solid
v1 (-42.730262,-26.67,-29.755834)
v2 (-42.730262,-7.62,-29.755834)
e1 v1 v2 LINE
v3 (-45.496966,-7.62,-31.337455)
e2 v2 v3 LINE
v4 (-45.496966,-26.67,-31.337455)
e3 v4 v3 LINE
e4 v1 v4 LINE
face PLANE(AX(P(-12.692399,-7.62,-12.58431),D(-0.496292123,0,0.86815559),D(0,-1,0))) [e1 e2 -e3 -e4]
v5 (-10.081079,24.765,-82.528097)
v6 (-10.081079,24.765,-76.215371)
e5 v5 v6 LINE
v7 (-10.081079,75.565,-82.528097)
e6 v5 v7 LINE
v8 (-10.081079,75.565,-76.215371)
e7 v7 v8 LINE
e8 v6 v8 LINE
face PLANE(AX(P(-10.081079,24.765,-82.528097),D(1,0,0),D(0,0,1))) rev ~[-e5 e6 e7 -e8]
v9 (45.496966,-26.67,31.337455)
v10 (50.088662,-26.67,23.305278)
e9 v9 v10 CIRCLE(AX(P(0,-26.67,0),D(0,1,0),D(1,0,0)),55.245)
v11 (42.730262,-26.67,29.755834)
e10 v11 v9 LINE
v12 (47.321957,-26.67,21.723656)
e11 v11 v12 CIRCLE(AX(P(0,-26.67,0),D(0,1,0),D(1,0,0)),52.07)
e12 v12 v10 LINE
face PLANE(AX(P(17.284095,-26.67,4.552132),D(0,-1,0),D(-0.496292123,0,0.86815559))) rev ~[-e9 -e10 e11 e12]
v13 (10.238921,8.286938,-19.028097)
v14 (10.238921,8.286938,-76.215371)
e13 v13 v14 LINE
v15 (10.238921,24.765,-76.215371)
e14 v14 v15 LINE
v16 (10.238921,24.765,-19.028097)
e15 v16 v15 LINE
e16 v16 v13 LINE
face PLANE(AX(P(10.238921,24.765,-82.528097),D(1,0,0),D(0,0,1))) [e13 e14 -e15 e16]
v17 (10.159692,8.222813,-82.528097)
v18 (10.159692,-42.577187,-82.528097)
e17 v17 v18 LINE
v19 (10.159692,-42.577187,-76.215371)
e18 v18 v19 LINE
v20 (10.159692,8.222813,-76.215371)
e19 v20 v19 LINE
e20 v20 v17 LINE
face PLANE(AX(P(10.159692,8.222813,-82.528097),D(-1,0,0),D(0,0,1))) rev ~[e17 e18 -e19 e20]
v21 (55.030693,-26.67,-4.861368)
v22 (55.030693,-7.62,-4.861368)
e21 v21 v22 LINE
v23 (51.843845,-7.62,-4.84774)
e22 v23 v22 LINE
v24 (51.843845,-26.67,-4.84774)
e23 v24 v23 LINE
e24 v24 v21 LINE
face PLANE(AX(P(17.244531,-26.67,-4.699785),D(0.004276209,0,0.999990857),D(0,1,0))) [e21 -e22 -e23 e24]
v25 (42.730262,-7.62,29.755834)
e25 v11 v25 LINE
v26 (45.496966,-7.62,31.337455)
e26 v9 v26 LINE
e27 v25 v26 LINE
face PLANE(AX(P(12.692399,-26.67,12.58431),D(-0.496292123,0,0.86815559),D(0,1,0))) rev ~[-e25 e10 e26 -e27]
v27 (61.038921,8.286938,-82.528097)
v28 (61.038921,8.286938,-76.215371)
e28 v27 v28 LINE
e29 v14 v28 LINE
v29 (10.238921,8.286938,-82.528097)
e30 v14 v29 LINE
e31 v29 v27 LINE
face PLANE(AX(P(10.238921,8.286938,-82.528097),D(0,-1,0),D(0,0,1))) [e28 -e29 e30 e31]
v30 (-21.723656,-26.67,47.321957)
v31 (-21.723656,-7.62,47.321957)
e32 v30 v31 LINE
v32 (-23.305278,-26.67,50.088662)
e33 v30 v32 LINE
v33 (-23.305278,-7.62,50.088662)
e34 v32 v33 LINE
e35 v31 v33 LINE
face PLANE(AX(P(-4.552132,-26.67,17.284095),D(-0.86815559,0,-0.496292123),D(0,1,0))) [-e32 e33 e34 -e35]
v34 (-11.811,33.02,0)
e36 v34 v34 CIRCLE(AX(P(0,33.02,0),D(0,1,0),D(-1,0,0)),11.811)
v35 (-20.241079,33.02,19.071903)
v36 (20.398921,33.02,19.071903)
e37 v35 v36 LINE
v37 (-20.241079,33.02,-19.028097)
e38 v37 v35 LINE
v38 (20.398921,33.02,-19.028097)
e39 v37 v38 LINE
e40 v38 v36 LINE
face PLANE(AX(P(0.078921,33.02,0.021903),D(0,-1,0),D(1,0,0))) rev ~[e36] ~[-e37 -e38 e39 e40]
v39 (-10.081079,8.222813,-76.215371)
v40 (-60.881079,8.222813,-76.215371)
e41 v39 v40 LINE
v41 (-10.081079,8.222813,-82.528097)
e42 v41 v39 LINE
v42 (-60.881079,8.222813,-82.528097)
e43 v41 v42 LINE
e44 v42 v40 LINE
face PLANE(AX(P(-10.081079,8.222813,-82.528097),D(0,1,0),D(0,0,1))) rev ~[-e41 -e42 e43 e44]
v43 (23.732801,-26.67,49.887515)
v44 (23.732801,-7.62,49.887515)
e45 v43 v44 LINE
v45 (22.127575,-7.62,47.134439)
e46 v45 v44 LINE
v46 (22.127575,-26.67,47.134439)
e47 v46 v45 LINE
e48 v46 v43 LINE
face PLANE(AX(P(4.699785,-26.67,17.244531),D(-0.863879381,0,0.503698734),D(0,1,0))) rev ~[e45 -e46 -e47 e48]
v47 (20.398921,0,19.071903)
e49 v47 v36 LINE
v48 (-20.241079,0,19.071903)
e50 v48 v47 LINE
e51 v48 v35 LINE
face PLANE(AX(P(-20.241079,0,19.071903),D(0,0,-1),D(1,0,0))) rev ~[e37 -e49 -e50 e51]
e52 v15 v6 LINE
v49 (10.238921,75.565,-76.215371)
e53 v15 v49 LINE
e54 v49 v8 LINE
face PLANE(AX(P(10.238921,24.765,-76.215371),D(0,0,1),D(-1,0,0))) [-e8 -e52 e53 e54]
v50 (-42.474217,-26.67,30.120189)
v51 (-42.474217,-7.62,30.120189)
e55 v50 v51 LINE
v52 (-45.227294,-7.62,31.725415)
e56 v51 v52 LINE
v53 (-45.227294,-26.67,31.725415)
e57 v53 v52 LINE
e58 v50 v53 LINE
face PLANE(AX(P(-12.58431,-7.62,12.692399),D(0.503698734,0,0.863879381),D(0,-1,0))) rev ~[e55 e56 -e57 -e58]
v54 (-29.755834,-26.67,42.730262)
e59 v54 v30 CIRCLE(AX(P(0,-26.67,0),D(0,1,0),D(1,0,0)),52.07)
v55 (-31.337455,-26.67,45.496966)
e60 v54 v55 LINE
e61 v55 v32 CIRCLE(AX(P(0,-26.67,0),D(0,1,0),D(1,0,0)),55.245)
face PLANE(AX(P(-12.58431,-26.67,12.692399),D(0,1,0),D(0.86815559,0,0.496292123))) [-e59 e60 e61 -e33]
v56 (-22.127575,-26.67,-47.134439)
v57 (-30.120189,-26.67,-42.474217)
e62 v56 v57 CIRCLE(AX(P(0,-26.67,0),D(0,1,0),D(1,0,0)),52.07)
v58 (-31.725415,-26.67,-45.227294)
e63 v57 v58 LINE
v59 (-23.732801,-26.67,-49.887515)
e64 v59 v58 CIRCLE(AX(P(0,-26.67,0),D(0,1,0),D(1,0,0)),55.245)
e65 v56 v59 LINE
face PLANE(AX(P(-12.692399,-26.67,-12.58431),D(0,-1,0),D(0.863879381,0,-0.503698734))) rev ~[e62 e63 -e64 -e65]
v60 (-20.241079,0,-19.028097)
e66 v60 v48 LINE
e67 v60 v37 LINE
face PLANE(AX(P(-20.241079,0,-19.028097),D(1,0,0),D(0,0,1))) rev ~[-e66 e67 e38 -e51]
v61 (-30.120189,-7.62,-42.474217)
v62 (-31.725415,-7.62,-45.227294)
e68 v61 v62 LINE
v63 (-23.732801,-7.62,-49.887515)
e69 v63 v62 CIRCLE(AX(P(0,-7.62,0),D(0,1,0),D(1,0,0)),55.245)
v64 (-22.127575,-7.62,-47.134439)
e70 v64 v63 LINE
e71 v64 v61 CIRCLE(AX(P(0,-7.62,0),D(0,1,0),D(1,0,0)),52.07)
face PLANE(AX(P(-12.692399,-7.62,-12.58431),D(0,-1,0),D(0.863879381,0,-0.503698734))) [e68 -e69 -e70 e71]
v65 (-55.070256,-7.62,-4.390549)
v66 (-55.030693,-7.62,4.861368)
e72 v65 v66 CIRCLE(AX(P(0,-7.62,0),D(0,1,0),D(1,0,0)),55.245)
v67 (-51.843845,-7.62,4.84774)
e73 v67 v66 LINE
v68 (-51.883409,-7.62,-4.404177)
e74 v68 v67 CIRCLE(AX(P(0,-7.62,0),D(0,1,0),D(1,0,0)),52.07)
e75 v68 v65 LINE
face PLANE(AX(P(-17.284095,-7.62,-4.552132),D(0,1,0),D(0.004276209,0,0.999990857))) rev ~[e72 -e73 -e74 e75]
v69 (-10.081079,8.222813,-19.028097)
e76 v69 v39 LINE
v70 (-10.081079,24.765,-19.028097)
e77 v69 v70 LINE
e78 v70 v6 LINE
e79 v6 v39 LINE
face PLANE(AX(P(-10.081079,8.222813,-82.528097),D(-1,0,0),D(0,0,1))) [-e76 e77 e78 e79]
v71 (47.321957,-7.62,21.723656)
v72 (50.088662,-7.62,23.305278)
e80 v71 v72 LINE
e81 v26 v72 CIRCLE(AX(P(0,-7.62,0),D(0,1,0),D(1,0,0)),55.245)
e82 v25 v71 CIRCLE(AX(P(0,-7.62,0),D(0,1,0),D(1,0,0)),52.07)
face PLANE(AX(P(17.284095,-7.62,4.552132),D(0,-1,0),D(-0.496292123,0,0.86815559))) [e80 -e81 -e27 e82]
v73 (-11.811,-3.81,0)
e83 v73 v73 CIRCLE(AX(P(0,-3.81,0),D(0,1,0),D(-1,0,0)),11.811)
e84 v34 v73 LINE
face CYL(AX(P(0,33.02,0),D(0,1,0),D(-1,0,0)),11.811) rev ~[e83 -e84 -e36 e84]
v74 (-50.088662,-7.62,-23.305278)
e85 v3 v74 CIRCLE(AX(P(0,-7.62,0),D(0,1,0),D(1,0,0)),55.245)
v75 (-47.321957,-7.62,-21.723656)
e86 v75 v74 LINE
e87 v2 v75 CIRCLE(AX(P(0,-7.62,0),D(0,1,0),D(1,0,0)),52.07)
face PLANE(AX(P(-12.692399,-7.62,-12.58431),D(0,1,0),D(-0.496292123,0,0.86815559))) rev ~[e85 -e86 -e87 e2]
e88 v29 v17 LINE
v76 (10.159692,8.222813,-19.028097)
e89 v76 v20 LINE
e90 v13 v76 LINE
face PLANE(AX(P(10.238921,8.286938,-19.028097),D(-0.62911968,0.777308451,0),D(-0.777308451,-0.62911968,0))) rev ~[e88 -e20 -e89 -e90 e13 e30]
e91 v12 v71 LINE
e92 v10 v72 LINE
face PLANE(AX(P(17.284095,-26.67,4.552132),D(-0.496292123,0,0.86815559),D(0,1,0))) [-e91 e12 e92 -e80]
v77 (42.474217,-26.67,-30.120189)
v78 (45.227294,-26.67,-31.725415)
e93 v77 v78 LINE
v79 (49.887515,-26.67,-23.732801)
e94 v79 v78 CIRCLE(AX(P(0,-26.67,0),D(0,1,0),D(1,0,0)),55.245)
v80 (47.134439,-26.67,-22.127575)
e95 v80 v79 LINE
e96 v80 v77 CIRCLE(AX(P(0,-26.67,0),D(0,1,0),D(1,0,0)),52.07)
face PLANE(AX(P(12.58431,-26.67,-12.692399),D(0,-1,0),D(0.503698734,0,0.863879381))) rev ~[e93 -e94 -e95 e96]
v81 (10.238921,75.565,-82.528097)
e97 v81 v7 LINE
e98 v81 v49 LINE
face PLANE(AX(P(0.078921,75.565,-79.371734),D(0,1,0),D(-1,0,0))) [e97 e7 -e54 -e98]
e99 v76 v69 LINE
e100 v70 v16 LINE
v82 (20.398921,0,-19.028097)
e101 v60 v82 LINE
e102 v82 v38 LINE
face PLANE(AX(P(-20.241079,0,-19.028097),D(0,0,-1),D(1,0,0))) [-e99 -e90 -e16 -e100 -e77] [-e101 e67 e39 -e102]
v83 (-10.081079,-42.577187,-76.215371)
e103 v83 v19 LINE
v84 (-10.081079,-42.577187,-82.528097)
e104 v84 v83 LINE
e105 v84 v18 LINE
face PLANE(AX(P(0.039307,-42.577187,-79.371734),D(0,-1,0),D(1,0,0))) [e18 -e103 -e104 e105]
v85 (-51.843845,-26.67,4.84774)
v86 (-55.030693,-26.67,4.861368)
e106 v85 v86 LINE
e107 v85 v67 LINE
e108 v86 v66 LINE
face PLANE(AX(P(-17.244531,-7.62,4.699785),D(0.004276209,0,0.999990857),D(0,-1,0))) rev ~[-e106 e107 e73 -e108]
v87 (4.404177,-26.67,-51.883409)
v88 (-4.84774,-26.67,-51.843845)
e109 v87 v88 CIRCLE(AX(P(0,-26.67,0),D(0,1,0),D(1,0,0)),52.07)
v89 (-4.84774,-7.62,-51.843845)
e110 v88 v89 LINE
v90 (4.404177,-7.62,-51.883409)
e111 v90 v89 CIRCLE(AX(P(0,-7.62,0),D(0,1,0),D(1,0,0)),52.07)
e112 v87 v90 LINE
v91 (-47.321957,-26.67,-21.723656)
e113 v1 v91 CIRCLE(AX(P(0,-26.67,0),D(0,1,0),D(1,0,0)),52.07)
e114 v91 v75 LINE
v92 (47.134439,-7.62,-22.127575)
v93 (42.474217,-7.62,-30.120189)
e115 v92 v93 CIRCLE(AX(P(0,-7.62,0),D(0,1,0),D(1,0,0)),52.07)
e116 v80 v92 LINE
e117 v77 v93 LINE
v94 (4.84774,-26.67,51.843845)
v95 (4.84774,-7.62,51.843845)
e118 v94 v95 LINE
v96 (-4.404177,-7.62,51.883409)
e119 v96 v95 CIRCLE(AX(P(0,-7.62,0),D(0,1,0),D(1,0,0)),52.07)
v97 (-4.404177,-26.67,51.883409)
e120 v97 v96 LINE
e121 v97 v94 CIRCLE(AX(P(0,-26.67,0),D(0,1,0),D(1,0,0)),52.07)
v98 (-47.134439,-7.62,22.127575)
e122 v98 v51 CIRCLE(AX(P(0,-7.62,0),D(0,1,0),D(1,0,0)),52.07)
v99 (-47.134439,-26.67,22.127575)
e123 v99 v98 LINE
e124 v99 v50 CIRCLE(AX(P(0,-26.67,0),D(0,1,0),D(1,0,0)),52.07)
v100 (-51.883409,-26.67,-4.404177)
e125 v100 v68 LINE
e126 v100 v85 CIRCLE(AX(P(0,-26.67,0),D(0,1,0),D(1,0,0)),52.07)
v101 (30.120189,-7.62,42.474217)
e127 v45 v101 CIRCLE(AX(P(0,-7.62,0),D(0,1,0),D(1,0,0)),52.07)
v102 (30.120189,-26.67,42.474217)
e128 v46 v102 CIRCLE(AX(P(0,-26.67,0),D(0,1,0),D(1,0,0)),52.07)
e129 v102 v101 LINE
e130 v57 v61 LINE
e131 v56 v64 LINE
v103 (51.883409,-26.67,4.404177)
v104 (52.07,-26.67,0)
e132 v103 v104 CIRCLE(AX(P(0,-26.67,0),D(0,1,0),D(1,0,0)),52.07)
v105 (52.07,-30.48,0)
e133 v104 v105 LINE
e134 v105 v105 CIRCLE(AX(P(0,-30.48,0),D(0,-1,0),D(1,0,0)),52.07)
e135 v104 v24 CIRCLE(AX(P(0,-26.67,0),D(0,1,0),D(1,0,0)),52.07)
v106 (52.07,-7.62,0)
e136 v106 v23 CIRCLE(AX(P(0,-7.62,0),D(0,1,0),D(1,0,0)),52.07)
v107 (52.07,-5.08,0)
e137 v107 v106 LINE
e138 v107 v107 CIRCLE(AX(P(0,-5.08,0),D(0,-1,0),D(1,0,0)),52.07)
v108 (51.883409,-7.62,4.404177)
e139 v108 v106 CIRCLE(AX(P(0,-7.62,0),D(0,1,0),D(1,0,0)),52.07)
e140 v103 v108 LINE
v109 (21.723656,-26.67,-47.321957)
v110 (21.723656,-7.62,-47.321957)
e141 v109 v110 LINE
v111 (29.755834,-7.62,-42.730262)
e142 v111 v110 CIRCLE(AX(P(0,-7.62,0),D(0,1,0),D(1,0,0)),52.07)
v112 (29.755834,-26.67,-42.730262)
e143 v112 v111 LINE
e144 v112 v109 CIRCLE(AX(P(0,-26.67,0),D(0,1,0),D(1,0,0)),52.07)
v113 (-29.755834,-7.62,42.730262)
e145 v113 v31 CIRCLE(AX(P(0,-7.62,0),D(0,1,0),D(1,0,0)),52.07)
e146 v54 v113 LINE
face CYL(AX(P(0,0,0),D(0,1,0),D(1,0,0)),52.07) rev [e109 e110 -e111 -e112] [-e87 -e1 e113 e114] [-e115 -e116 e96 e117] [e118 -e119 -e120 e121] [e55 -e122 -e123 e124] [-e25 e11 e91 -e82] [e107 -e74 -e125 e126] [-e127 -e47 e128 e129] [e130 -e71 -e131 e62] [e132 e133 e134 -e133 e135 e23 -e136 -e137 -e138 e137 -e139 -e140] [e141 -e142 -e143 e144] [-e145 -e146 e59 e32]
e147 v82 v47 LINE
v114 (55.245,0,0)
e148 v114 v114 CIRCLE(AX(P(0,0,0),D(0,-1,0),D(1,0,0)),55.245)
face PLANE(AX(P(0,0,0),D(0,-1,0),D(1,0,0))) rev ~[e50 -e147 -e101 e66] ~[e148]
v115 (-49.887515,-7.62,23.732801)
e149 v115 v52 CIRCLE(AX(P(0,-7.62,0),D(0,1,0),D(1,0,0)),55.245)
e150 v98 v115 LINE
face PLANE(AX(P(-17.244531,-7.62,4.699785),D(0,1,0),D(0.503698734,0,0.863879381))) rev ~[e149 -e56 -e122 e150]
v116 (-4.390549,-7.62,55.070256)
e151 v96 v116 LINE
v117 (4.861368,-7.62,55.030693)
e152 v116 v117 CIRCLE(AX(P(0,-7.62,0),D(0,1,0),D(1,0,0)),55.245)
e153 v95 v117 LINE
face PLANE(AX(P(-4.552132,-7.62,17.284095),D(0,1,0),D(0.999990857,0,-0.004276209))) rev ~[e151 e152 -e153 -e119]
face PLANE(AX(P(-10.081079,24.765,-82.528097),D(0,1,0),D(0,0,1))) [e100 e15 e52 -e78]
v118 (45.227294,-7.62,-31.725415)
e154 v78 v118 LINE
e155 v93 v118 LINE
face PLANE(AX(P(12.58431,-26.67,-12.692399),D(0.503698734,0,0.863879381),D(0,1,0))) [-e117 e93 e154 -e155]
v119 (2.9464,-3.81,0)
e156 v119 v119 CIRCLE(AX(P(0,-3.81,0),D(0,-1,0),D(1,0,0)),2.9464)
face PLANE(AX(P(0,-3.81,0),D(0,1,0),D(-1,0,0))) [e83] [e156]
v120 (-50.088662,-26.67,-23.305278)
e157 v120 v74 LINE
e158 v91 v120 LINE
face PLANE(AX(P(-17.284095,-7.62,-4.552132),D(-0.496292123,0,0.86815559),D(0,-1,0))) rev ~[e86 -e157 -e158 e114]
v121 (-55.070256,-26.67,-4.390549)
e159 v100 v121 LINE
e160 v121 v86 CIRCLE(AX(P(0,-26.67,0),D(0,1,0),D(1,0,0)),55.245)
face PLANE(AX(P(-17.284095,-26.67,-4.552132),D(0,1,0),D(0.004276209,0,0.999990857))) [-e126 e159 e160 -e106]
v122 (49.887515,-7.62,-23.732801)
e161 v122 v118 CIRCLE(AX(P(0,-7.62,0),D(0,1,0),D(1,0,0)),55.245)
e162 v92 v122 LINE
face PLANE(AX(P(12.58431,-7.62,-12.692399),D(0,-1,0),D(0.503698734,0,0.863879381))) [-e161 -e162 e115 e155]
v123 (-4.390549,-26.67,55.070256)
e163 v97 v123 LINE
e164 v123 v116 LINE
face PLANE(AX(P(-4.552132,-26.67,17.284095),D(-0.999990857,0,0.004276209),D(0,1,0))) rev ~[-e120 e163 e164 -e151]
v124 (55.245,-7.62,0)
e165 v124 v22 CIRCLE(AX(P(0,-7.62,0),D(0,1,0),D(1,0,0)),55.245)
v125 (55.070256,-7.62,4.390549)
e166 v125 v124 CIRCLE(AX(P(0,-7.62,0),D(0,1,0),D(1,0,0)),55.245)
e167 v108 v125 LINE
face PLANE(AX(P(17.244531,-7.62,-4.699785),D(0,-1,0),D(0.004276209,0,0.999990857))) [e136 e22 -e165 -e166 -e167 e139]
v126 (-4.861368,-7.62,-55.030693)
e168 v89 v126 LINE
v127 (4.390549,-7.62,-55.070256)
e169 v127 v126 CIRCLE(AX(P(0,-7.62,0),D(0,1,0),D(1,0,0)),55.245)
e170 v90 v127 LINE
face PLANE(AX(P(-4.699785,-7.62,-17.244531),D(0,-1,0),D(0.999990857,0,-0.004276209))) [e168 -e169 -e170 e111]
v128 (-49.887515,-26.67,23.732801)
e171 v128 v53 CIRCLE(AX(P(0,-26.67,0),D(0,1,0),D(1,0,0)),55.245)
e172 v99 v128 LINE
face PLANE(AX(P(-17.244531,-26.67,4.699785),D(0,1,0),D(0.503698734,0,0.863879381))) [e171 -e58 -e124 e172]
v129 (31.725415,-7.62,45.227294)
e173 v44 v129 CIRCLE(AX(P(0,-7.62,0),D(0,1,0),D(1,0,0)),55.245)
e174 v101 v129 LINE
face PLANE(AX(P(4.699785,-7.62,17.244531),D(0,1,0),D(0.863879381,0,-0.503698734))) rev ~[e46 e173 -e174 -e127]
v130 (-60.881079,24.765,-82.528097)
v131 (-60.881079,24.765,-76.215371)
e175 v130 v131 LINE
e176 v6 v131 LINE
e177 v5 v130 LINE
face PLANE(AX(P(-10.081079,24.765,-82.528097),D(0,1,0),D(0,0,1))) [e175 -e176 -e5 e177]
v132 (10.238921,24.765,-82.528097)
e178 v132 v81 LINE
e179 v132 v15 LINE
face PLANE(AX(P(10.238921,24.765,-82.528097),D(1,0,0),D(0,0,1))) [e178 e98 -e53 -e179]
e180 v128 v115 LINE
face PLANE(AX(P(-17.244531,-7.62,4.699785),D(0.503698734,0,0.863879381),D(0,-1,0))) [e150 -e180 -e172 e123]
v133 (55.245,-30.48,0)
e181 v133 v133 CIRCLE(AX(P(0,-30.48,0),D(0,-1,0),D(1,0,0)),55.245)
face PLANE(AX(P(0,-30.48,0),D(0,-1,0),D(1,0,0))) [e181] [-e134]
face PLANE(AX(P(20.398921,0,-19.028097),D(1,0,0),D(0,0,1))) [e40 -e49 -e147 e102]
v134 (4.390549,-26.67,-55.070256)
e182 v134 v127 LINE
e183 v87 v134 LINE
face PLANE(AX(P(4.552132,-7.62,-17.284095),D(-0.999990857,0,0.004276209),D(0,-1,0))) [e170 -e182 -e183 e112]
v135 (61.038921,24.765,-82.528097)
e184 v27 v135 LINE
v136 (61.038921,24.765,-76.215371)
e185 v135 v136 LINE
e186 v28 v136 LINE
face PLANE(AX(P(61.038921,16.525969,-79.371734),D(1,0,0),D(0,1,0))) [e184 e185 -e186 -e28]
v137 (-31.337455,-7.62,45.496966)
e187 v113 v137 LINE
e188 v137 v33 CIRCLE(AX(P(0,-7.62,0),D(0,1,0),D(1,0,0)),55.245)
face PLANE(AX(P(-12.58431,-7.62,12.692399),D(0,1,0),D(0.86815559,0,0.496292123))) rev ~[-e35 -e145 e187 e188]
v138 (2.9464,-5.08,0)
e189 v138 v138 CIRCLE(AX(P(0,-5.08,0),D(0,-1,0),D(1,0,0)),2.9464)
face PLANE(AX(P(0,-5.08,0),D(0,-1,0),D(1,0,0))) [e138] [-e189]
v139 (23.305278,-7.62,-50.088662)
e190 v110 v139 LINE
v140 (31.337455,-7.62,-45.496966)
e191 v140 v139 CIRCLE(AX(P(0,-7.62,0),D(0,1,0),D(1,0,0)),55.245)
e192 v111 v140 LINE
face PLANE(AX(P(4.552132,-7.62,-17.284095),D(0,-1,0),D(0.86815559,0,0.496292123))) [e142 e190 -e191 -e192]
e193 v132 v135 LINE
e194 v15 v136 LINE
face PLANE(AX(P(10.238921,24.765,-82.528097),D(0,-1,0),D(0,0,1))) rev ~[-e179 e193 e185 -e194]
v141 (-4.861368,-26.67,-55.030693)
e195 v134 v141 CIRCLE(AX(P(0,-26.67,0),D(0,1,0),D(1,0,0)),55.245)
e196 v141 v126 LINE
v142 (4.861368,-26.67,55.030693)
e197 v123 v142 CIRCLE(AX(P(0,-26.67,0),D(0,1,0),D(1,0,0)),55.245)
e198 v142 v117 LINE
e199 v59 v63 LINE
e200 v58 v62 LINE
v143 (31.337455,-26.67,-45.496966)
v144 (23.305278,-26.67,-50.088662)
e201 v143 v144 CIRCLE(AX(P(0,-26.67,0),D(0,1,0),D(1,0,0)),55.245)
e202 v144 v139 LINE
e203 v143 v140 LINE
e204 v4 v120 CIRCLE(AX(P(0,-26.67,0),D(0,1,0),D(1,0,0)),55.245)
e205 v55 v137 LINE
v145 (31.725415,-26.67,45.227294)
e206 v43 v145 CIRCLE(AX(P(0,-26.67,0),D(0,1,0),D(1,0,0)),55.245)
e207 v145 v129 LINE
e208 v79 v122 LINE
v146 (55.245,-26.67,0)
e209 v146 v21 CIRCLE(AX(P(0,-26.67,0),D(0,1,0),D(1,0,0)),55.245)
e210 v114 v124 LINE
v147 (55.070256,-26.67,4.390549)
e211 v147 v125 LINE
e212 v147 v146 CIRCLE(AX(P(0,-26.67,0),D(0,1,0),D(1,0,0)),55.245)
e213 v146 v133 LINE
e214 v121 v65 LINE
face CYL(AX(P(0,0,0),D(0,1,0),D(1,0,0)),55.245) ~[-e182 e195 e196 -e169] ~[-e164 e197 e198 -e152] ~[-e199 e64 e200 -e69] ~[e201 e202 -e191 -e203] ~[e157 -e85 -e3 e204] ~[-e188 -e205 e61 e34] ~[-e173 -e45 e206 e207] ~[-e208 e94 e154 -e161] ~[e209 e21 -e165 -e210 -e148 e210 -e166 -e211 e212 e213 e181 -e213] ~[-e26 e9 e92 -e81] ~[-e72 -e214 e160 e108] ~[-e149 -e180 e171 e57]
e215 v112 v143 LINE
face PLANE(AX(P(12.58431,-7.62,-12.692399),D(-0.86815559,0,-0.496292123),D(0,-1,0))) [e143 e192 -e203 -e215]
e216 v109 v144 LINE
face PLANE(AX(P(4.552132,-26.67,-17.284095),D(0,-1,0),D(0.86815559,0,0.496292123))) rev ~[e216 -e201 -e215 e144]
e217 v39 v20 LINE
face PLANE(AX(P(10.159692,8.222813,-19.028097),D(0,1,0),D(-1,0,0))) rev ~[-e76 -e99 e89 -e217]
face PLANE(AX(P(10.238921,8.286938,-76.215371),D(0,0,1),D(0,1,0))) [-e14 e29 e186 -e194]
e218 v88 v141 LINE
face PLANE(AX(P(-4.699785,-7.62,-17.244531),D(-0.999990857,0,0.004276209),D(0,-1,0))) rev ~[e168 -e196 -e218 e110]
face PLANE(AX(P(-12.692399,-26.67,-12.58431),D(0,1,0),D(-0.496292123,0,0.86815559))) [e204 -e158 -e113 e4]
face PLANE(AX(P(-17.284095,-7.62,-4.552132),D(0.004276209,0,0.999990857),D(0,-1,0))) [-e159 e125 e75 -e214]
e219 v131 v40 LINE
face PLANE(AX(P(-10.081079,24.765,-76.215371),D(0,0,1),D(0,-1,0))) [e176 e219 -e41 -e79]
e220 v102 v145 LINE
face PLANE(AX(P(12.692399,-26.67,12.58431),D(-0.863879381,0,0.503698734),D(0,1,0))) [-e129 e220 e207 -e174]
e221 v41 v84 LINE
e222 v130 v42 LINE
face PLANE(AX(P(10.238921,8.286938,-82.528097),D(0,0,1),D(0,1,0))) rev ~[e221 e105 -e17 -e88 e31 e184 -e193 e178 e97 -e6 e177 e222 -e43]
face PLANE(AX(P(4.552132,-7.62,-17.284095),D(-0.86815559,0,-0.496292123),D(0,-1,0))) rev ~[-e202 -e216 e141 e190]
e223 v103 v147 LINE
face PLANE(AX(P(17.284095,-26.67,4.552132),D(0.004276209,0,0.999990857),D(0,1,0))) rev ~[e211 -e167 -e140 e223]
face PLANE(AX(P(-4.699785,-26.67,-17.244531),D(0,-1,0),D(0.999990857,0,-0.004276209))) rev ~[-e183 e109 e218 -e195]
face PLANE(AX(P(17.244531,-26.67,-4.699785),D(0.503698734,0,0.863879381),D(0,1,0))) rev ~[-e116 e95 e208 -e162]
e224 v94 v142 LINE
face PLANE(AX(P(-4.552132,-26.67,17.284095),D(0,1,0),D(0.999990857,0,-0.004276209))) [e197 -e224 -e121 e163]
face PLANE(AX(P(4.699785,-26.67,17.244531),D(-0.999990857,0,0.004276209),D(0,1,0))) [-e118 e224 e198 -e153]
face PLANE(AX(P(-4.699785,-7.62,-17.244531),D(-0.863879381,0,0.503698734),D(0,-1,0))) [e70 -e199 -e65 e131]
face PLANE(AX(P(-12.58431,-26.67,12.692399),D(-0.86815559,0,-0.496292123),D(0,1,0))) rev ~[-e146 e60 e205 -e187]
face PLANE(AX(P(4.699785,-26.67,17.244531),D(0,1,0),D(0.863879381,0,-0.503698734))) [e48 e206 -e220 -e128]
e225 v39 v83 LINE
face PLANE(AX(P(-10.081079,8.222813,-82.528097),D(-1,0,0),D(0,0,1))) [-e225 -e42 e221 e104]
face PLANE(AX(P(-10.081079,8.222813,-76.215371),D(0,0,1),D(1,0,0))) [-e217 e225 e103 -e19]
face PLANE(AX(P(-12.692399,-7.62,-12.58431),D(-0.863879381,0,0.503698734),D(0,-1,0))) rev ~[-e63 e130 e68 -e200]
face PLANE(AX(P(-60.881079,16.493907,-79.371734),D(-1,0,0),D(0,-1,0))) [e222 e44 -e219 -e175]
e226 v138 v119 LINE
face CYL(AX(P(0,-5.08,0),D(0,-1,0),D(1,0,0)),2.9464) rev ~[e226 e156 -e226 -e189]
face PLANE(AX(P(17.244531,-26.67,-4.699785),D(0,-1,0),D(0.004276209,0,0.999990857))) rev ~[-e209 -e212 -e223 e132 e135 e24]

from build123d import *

# Parameters (mm, degrees)
F0_R      = 52.07
F1_DEPTH  = 5.08
F0_R_2    = 55.245
F2_DEPTH  = 30.48
F4_DEPTH  = 21.59
F5_W      = 9.2520020868
F5_H      = 19.05
F6_DEPTH  = 50.8
F7_W      = 9.2520020868
F7_H      = 19.05
F8_DEPTH  = 50.8
F9_W      = 9.2520020868
F9_H      = 19.05
F10_DEPTH = 50.8
F11_W     = 19.05
F11_H     = 9.2520020868
F12_DEPTH = 50.8
F13_W     = 19.05
F13_H     = 9.2520020868
F14_DEPTH = 50.8
F15_W     = 19.05
F15_H     = 9.2520020868
F16_DEPTH = 50.8
F17_W     = 9.2520020868
F17_H     = 19.05
F18_DEPTH = 50.8
F19_W     = 9.2520020868
F19_H     = 19.05
F20_DEPTH = 50.8
F21_W     = 9.2520020868
F21_H     = 19.05
F22_DEPTH = 50.8
F23_W     = 19.05
F23_H     = 9.2520020868
F24_DEPTH = 50.8
F25_W     = 19.05
F25_H     = 9.2520020868
F26_DEPTH = 50.8
F27_W     = 19.05
F27_H     = 9.2520020868
F28_DEPTH = 50.8
F29_W     = 40.64
F29_H     = 38.1
F30_DEPTH = 33.02
F31_DEPTH = 21.59
F33_DEPTH = 63.5
F34_W     = 20.2407714686
F34_H     = 6.3127256824
F35_DEPTH = 50.8
F36_W     = 16.5421865909
F36_H     = 6.3127256824
F37_DEPTH = 50.8
F38_W     = 20.32
F38_H     = 6.3127256824
F39_DEPTH = 50.8
F40_W     = 16.4780624607
F40_H     = 6.3127256824
F41_DEPTH = 50.8
F43_R     = 2.9464
F44_DEPTH = 1.6256
F42_R     = 11.811
F45_DEPTH = 36.83


with BuildPart() as f1:
    # F0 (on Front) → F1 (new body)
    with BuildSketch(Plane.XZ):
        Circle(F0_R)
    extrude(amount=F1_DEPTH)

    # F0 (on Front) → F2 (join)
    with BuildSketch(Plane.XZ):
        Circle(F0_R_2)
        Circle(F0_R, mode=Mode.SUBTRACT)
    extrude(amount=F2_DEPTH)

    # F3 (on face) → F4 (join)
    with BuildSketch(Plane.XZ.offset(5.08)):
        Polygon((4.5521322669, -17.2840948262), (12.5843095976, -12.6923990675), (17.2445313344, -4.6997852286), (17.2840948262, 4.5521322669), (12.6923990675, 12.5843095976), (4.6997852286, 17.2445313344), (-4.5521322669, 17.2840948262), (-12.5843095976, 12.6923990675), (-17.2445313344, 4.6997852286), (-17.2840948262, -4.5521322669), (-12.6923990675, -12.5843095976), (-4.6997852286, -17.2445313344), align=None)
    extrude(amount=F4_DEPTH)

    # F5 (on face) → F6 (cut)
    with BuildSketch(Plane(origin=(8.696092148, 0, 14.914420466), x_dir=(0.8638793813, 0, -0.5036987339), z_dir=(0.5036987339, 0, 0.8638793813))):
        with Locations((0, -17.145)):
            Rectangle(F5_W, F5_H)
    extrude(amount=F6_DEPTH, mode=Mode.SUBTRACT)

    # F7 (on face) → F8 (cut)
    with BuildSketch(Plane(origin=(0.0738264808, 0, 17.2643130803), x_dir=(0.999990857, 0, -0.0042762087), z_dir=(0.0042762087, 0, 0.999990857))):
        with Locations((0, -17.145)):
            Rectangle(F7_W, F7_H)
    extrude(amount=F8_DEPTH, mode=Mode.SUBTRACT)

    # F9 (on face) → F10 (cut)
    with BuildSketch(Plane(origin=(-8.5682209323, 0, 14.9882469469), x_dir=(0.86815559, 0, 0.4962921231), z_dir=(-0.4962921231, 0, 0.86815559))):
        with Locations((0, -17.145)):
            Rectangle(F9_W, F9_H)
    extrude(amount=F10_DEPTH, mode=Mode.SUBTRACT)

    # F11 (on face) → F12 (cut)
    with BuildSketch(Plane(origin=(-14.914420466, 0, 8.696092148), x_dir=(0, -1, 0), z_dir=(-0.8638793813, 0, 0.5036987339))):
        with Locations((17.145, 0)):
            Rectangle(F11_W, F11_H)
    extrude(amount=F12_DEPTH, mode=Mode.SUBTRACT)

    # F13 (on face) → F14 (cut)
    with BuildSketch(Plane(origin=(-17.2643130803, 0, 0.0738264808), x_dir=(0, -1, 0), z_dir=(-0.999990857, 0, 0.0042762087))):
        with Locations((17.145, 0)):
            Rectangle(F13_W, F13_H)
    extrude(amount=F14_DEPTH, mode=Mode.SUBTRACT)

    # F15 (on face) → F16 (cut)
    with BuildSketch(Plane(origin=(-14.9882469469, 0, -8.5682209323), x_dir=(0, -1, 0), z_dir=(-0.86815559, 0, -0.4962921231))):
        with Locations((17.145, 0)):
            Rectangle(F15_W, F15_H)
    extrude(amount=F16_DEPTH, mode=Mode.SUBTRACT)

    # F17 (on face) → F18 (cut)
    with BuildSketch(Plane(origin=(-8.696092148, 0, -14.914420466), x_dir=(0.8638793813, 0, -0.5036987339), z_dir=(-0.5036987339, 0, -0.8638793813))):
        with Locations((0, 17.145)):
            Rectangle(F17_W, F17_H)
    extrude(amount=F18_DEPTH, mode=Mode.SUBTRACT)

    # F19 (on face) → F20 (cut)
    with BuildSketch(Plane(origin=(-0.0738264808, 0, -17.2643130803), x_dir=(0.999990857, 0, -0.0042762087), z_dir=(-0.0042762087, 0, -0.999990857))):
        with Locations((0, 17.145)):
            Rectangle(F19_W, F19_H)
    extrude(amount=F20_DEPTH, mode=Mode.SUBTRACT)

    # F21 (on face) → F22 (cut)
    with BuildSketch(Plane(origin=(8.5682209323, 0, -14.9882469469), x_dir=(0.86815559, 0, 0.4962921231), z_dir=(0.4962921231, 0, -0.86815559))):
        with Locations((0, 17.145)):
            Rectangle(F21_W, F21_H)
    extrude(amount=F22_DEPTH, mode=Mode.SUBTRACT)

    # F23 (on face) → F24 (cut)
    with BuildSketch(Plane(origin=(14.914420466, 0, -8.696092148), x_dir=(0, 1, 0), z_dir=(0.8638793813, 0, -0.5036987339))):
        with Locations((-17.145, 0)):
            Rectangle(F23_W, F23_H)
    extrude(amount=F24_DEPTH, mode=Mode.SUBTRACT)

    # F25 (on face) → F26 (cut)
    with BuildSketch(Plane(origin=(17.2643130803, 0, -0.0738264808), x_dir=(0, 1, 0), z_dir=(0.999990857, 0, -0.0042762087))):
        with Locations((-17.145, 0)):
            Rectangle(F25_W, F25_H)
    extrude(amount=F26_DEPTH, mode=Mode.SUBTRACT)

    # F27 (on face) → F28 (cut)
    with BuildSketch(Plane(origin=(14.9882469469, 0, 8.5682209323), x_dir=(0, 1, 0), z_dir=(0.86815559, 0, 0.4962921231))):
        with Locations((-17.145, 0)):
            Rectangle(F27_W, F27_H)
    extrude(amount=F28_DEPTH, mode=Mode.SUBTRACT)

    # F29 (on face) → F30 (join)
    with BuildSketch(Plane.XZ):
        with Locations((0.0789208158, 0.021902828)):
            Rectangle(F29_W, F29_H)
    extrude(amount=-F30_DEPTH)

    # F31 (cut): a face of the model
    f31_faces = [f1.faces().sort_by_distance(p)[0] for p in [
        (0, -26.67, 0),
    ]]
    extrude(f31_faces, amount=-F31_DEPTH, mode=Mode.SUBTRACT)

    # F32 (on face) → F33 (join)
    with BuildSketch(Plane(origin=(0, 0, -19.028097172), x_dir=(1, 0, 0), z_dir=(0, 0, -1))):
        Polygon((-10.0810791842, -8.2228134091), (-10.0810791842, -24.765), (10.2389208158, -24.765), (10.2389208158, -8.2869375393), (10.1596922844, -8.2228134091), align=None)
    extrude(amount=F33_DEPTH)

    # F34 (on face) → F35 (join)
    with BuildSketch(Plane.XZ.offset(-8.2228134091)):
        with Locations((0.0393065501, -79.3717343307)):
            Rectangle(F34_W, F34_H)
    extrude(amount=F35_DEPTH)

    # F36 (on face) → F37 (join)
    with BuildSketch(Plane(origin=(-10.0810791842, 0, 0), x_dir=(0, -1, 0), z_dir=(-1, 0, 0))):
        with Locations((-16.4939067046, -79.3717343307)):
            Rectangle(F36_W, F36_H)
    extrude(amount=F37_DEPTH)

    # F38 (on face) → F39 (join)
    with BuildSketch(Plane(origin=(0, 24.765, 0), x_dir=(-1, 0, 0), z_dir=(0, 1, 0))):
        with Locations((-0.0789208158, -79.3717343307)):
            Rectangle(F38_W, F38_H)
    extrude(amount=F39_DEPTH)

    # F40 (on face) → F41 (join)
    with BuildSketch(Plane.YZ.offset(10.2389208158)):
        with Locations((16.5259687696, -79.3717343307)):
            Rectangle(F40_W, F40_H)
    extrude(amount=F41_DEPTH)

    # F43 (on face) → F44 (cut)
    with BuildSketch(Plane.XZ.offset(5.08)):
        Circle(F43_R)
    extrude(amount=-F44_DEPTH, mode=Mode.SUBTRACT)

    # F42 (on face) → F45 (cut)
    with BuildSketch(Plane(origin=(0, 33.02, 0), x_dir=(-1, 0, 0), z_dir=(0, 1, 0))):
        Circle(F42_R)
    extrude(amount=-F45_DEPTH, mode=Mode.SUBTRACT)


solid = f1.part
